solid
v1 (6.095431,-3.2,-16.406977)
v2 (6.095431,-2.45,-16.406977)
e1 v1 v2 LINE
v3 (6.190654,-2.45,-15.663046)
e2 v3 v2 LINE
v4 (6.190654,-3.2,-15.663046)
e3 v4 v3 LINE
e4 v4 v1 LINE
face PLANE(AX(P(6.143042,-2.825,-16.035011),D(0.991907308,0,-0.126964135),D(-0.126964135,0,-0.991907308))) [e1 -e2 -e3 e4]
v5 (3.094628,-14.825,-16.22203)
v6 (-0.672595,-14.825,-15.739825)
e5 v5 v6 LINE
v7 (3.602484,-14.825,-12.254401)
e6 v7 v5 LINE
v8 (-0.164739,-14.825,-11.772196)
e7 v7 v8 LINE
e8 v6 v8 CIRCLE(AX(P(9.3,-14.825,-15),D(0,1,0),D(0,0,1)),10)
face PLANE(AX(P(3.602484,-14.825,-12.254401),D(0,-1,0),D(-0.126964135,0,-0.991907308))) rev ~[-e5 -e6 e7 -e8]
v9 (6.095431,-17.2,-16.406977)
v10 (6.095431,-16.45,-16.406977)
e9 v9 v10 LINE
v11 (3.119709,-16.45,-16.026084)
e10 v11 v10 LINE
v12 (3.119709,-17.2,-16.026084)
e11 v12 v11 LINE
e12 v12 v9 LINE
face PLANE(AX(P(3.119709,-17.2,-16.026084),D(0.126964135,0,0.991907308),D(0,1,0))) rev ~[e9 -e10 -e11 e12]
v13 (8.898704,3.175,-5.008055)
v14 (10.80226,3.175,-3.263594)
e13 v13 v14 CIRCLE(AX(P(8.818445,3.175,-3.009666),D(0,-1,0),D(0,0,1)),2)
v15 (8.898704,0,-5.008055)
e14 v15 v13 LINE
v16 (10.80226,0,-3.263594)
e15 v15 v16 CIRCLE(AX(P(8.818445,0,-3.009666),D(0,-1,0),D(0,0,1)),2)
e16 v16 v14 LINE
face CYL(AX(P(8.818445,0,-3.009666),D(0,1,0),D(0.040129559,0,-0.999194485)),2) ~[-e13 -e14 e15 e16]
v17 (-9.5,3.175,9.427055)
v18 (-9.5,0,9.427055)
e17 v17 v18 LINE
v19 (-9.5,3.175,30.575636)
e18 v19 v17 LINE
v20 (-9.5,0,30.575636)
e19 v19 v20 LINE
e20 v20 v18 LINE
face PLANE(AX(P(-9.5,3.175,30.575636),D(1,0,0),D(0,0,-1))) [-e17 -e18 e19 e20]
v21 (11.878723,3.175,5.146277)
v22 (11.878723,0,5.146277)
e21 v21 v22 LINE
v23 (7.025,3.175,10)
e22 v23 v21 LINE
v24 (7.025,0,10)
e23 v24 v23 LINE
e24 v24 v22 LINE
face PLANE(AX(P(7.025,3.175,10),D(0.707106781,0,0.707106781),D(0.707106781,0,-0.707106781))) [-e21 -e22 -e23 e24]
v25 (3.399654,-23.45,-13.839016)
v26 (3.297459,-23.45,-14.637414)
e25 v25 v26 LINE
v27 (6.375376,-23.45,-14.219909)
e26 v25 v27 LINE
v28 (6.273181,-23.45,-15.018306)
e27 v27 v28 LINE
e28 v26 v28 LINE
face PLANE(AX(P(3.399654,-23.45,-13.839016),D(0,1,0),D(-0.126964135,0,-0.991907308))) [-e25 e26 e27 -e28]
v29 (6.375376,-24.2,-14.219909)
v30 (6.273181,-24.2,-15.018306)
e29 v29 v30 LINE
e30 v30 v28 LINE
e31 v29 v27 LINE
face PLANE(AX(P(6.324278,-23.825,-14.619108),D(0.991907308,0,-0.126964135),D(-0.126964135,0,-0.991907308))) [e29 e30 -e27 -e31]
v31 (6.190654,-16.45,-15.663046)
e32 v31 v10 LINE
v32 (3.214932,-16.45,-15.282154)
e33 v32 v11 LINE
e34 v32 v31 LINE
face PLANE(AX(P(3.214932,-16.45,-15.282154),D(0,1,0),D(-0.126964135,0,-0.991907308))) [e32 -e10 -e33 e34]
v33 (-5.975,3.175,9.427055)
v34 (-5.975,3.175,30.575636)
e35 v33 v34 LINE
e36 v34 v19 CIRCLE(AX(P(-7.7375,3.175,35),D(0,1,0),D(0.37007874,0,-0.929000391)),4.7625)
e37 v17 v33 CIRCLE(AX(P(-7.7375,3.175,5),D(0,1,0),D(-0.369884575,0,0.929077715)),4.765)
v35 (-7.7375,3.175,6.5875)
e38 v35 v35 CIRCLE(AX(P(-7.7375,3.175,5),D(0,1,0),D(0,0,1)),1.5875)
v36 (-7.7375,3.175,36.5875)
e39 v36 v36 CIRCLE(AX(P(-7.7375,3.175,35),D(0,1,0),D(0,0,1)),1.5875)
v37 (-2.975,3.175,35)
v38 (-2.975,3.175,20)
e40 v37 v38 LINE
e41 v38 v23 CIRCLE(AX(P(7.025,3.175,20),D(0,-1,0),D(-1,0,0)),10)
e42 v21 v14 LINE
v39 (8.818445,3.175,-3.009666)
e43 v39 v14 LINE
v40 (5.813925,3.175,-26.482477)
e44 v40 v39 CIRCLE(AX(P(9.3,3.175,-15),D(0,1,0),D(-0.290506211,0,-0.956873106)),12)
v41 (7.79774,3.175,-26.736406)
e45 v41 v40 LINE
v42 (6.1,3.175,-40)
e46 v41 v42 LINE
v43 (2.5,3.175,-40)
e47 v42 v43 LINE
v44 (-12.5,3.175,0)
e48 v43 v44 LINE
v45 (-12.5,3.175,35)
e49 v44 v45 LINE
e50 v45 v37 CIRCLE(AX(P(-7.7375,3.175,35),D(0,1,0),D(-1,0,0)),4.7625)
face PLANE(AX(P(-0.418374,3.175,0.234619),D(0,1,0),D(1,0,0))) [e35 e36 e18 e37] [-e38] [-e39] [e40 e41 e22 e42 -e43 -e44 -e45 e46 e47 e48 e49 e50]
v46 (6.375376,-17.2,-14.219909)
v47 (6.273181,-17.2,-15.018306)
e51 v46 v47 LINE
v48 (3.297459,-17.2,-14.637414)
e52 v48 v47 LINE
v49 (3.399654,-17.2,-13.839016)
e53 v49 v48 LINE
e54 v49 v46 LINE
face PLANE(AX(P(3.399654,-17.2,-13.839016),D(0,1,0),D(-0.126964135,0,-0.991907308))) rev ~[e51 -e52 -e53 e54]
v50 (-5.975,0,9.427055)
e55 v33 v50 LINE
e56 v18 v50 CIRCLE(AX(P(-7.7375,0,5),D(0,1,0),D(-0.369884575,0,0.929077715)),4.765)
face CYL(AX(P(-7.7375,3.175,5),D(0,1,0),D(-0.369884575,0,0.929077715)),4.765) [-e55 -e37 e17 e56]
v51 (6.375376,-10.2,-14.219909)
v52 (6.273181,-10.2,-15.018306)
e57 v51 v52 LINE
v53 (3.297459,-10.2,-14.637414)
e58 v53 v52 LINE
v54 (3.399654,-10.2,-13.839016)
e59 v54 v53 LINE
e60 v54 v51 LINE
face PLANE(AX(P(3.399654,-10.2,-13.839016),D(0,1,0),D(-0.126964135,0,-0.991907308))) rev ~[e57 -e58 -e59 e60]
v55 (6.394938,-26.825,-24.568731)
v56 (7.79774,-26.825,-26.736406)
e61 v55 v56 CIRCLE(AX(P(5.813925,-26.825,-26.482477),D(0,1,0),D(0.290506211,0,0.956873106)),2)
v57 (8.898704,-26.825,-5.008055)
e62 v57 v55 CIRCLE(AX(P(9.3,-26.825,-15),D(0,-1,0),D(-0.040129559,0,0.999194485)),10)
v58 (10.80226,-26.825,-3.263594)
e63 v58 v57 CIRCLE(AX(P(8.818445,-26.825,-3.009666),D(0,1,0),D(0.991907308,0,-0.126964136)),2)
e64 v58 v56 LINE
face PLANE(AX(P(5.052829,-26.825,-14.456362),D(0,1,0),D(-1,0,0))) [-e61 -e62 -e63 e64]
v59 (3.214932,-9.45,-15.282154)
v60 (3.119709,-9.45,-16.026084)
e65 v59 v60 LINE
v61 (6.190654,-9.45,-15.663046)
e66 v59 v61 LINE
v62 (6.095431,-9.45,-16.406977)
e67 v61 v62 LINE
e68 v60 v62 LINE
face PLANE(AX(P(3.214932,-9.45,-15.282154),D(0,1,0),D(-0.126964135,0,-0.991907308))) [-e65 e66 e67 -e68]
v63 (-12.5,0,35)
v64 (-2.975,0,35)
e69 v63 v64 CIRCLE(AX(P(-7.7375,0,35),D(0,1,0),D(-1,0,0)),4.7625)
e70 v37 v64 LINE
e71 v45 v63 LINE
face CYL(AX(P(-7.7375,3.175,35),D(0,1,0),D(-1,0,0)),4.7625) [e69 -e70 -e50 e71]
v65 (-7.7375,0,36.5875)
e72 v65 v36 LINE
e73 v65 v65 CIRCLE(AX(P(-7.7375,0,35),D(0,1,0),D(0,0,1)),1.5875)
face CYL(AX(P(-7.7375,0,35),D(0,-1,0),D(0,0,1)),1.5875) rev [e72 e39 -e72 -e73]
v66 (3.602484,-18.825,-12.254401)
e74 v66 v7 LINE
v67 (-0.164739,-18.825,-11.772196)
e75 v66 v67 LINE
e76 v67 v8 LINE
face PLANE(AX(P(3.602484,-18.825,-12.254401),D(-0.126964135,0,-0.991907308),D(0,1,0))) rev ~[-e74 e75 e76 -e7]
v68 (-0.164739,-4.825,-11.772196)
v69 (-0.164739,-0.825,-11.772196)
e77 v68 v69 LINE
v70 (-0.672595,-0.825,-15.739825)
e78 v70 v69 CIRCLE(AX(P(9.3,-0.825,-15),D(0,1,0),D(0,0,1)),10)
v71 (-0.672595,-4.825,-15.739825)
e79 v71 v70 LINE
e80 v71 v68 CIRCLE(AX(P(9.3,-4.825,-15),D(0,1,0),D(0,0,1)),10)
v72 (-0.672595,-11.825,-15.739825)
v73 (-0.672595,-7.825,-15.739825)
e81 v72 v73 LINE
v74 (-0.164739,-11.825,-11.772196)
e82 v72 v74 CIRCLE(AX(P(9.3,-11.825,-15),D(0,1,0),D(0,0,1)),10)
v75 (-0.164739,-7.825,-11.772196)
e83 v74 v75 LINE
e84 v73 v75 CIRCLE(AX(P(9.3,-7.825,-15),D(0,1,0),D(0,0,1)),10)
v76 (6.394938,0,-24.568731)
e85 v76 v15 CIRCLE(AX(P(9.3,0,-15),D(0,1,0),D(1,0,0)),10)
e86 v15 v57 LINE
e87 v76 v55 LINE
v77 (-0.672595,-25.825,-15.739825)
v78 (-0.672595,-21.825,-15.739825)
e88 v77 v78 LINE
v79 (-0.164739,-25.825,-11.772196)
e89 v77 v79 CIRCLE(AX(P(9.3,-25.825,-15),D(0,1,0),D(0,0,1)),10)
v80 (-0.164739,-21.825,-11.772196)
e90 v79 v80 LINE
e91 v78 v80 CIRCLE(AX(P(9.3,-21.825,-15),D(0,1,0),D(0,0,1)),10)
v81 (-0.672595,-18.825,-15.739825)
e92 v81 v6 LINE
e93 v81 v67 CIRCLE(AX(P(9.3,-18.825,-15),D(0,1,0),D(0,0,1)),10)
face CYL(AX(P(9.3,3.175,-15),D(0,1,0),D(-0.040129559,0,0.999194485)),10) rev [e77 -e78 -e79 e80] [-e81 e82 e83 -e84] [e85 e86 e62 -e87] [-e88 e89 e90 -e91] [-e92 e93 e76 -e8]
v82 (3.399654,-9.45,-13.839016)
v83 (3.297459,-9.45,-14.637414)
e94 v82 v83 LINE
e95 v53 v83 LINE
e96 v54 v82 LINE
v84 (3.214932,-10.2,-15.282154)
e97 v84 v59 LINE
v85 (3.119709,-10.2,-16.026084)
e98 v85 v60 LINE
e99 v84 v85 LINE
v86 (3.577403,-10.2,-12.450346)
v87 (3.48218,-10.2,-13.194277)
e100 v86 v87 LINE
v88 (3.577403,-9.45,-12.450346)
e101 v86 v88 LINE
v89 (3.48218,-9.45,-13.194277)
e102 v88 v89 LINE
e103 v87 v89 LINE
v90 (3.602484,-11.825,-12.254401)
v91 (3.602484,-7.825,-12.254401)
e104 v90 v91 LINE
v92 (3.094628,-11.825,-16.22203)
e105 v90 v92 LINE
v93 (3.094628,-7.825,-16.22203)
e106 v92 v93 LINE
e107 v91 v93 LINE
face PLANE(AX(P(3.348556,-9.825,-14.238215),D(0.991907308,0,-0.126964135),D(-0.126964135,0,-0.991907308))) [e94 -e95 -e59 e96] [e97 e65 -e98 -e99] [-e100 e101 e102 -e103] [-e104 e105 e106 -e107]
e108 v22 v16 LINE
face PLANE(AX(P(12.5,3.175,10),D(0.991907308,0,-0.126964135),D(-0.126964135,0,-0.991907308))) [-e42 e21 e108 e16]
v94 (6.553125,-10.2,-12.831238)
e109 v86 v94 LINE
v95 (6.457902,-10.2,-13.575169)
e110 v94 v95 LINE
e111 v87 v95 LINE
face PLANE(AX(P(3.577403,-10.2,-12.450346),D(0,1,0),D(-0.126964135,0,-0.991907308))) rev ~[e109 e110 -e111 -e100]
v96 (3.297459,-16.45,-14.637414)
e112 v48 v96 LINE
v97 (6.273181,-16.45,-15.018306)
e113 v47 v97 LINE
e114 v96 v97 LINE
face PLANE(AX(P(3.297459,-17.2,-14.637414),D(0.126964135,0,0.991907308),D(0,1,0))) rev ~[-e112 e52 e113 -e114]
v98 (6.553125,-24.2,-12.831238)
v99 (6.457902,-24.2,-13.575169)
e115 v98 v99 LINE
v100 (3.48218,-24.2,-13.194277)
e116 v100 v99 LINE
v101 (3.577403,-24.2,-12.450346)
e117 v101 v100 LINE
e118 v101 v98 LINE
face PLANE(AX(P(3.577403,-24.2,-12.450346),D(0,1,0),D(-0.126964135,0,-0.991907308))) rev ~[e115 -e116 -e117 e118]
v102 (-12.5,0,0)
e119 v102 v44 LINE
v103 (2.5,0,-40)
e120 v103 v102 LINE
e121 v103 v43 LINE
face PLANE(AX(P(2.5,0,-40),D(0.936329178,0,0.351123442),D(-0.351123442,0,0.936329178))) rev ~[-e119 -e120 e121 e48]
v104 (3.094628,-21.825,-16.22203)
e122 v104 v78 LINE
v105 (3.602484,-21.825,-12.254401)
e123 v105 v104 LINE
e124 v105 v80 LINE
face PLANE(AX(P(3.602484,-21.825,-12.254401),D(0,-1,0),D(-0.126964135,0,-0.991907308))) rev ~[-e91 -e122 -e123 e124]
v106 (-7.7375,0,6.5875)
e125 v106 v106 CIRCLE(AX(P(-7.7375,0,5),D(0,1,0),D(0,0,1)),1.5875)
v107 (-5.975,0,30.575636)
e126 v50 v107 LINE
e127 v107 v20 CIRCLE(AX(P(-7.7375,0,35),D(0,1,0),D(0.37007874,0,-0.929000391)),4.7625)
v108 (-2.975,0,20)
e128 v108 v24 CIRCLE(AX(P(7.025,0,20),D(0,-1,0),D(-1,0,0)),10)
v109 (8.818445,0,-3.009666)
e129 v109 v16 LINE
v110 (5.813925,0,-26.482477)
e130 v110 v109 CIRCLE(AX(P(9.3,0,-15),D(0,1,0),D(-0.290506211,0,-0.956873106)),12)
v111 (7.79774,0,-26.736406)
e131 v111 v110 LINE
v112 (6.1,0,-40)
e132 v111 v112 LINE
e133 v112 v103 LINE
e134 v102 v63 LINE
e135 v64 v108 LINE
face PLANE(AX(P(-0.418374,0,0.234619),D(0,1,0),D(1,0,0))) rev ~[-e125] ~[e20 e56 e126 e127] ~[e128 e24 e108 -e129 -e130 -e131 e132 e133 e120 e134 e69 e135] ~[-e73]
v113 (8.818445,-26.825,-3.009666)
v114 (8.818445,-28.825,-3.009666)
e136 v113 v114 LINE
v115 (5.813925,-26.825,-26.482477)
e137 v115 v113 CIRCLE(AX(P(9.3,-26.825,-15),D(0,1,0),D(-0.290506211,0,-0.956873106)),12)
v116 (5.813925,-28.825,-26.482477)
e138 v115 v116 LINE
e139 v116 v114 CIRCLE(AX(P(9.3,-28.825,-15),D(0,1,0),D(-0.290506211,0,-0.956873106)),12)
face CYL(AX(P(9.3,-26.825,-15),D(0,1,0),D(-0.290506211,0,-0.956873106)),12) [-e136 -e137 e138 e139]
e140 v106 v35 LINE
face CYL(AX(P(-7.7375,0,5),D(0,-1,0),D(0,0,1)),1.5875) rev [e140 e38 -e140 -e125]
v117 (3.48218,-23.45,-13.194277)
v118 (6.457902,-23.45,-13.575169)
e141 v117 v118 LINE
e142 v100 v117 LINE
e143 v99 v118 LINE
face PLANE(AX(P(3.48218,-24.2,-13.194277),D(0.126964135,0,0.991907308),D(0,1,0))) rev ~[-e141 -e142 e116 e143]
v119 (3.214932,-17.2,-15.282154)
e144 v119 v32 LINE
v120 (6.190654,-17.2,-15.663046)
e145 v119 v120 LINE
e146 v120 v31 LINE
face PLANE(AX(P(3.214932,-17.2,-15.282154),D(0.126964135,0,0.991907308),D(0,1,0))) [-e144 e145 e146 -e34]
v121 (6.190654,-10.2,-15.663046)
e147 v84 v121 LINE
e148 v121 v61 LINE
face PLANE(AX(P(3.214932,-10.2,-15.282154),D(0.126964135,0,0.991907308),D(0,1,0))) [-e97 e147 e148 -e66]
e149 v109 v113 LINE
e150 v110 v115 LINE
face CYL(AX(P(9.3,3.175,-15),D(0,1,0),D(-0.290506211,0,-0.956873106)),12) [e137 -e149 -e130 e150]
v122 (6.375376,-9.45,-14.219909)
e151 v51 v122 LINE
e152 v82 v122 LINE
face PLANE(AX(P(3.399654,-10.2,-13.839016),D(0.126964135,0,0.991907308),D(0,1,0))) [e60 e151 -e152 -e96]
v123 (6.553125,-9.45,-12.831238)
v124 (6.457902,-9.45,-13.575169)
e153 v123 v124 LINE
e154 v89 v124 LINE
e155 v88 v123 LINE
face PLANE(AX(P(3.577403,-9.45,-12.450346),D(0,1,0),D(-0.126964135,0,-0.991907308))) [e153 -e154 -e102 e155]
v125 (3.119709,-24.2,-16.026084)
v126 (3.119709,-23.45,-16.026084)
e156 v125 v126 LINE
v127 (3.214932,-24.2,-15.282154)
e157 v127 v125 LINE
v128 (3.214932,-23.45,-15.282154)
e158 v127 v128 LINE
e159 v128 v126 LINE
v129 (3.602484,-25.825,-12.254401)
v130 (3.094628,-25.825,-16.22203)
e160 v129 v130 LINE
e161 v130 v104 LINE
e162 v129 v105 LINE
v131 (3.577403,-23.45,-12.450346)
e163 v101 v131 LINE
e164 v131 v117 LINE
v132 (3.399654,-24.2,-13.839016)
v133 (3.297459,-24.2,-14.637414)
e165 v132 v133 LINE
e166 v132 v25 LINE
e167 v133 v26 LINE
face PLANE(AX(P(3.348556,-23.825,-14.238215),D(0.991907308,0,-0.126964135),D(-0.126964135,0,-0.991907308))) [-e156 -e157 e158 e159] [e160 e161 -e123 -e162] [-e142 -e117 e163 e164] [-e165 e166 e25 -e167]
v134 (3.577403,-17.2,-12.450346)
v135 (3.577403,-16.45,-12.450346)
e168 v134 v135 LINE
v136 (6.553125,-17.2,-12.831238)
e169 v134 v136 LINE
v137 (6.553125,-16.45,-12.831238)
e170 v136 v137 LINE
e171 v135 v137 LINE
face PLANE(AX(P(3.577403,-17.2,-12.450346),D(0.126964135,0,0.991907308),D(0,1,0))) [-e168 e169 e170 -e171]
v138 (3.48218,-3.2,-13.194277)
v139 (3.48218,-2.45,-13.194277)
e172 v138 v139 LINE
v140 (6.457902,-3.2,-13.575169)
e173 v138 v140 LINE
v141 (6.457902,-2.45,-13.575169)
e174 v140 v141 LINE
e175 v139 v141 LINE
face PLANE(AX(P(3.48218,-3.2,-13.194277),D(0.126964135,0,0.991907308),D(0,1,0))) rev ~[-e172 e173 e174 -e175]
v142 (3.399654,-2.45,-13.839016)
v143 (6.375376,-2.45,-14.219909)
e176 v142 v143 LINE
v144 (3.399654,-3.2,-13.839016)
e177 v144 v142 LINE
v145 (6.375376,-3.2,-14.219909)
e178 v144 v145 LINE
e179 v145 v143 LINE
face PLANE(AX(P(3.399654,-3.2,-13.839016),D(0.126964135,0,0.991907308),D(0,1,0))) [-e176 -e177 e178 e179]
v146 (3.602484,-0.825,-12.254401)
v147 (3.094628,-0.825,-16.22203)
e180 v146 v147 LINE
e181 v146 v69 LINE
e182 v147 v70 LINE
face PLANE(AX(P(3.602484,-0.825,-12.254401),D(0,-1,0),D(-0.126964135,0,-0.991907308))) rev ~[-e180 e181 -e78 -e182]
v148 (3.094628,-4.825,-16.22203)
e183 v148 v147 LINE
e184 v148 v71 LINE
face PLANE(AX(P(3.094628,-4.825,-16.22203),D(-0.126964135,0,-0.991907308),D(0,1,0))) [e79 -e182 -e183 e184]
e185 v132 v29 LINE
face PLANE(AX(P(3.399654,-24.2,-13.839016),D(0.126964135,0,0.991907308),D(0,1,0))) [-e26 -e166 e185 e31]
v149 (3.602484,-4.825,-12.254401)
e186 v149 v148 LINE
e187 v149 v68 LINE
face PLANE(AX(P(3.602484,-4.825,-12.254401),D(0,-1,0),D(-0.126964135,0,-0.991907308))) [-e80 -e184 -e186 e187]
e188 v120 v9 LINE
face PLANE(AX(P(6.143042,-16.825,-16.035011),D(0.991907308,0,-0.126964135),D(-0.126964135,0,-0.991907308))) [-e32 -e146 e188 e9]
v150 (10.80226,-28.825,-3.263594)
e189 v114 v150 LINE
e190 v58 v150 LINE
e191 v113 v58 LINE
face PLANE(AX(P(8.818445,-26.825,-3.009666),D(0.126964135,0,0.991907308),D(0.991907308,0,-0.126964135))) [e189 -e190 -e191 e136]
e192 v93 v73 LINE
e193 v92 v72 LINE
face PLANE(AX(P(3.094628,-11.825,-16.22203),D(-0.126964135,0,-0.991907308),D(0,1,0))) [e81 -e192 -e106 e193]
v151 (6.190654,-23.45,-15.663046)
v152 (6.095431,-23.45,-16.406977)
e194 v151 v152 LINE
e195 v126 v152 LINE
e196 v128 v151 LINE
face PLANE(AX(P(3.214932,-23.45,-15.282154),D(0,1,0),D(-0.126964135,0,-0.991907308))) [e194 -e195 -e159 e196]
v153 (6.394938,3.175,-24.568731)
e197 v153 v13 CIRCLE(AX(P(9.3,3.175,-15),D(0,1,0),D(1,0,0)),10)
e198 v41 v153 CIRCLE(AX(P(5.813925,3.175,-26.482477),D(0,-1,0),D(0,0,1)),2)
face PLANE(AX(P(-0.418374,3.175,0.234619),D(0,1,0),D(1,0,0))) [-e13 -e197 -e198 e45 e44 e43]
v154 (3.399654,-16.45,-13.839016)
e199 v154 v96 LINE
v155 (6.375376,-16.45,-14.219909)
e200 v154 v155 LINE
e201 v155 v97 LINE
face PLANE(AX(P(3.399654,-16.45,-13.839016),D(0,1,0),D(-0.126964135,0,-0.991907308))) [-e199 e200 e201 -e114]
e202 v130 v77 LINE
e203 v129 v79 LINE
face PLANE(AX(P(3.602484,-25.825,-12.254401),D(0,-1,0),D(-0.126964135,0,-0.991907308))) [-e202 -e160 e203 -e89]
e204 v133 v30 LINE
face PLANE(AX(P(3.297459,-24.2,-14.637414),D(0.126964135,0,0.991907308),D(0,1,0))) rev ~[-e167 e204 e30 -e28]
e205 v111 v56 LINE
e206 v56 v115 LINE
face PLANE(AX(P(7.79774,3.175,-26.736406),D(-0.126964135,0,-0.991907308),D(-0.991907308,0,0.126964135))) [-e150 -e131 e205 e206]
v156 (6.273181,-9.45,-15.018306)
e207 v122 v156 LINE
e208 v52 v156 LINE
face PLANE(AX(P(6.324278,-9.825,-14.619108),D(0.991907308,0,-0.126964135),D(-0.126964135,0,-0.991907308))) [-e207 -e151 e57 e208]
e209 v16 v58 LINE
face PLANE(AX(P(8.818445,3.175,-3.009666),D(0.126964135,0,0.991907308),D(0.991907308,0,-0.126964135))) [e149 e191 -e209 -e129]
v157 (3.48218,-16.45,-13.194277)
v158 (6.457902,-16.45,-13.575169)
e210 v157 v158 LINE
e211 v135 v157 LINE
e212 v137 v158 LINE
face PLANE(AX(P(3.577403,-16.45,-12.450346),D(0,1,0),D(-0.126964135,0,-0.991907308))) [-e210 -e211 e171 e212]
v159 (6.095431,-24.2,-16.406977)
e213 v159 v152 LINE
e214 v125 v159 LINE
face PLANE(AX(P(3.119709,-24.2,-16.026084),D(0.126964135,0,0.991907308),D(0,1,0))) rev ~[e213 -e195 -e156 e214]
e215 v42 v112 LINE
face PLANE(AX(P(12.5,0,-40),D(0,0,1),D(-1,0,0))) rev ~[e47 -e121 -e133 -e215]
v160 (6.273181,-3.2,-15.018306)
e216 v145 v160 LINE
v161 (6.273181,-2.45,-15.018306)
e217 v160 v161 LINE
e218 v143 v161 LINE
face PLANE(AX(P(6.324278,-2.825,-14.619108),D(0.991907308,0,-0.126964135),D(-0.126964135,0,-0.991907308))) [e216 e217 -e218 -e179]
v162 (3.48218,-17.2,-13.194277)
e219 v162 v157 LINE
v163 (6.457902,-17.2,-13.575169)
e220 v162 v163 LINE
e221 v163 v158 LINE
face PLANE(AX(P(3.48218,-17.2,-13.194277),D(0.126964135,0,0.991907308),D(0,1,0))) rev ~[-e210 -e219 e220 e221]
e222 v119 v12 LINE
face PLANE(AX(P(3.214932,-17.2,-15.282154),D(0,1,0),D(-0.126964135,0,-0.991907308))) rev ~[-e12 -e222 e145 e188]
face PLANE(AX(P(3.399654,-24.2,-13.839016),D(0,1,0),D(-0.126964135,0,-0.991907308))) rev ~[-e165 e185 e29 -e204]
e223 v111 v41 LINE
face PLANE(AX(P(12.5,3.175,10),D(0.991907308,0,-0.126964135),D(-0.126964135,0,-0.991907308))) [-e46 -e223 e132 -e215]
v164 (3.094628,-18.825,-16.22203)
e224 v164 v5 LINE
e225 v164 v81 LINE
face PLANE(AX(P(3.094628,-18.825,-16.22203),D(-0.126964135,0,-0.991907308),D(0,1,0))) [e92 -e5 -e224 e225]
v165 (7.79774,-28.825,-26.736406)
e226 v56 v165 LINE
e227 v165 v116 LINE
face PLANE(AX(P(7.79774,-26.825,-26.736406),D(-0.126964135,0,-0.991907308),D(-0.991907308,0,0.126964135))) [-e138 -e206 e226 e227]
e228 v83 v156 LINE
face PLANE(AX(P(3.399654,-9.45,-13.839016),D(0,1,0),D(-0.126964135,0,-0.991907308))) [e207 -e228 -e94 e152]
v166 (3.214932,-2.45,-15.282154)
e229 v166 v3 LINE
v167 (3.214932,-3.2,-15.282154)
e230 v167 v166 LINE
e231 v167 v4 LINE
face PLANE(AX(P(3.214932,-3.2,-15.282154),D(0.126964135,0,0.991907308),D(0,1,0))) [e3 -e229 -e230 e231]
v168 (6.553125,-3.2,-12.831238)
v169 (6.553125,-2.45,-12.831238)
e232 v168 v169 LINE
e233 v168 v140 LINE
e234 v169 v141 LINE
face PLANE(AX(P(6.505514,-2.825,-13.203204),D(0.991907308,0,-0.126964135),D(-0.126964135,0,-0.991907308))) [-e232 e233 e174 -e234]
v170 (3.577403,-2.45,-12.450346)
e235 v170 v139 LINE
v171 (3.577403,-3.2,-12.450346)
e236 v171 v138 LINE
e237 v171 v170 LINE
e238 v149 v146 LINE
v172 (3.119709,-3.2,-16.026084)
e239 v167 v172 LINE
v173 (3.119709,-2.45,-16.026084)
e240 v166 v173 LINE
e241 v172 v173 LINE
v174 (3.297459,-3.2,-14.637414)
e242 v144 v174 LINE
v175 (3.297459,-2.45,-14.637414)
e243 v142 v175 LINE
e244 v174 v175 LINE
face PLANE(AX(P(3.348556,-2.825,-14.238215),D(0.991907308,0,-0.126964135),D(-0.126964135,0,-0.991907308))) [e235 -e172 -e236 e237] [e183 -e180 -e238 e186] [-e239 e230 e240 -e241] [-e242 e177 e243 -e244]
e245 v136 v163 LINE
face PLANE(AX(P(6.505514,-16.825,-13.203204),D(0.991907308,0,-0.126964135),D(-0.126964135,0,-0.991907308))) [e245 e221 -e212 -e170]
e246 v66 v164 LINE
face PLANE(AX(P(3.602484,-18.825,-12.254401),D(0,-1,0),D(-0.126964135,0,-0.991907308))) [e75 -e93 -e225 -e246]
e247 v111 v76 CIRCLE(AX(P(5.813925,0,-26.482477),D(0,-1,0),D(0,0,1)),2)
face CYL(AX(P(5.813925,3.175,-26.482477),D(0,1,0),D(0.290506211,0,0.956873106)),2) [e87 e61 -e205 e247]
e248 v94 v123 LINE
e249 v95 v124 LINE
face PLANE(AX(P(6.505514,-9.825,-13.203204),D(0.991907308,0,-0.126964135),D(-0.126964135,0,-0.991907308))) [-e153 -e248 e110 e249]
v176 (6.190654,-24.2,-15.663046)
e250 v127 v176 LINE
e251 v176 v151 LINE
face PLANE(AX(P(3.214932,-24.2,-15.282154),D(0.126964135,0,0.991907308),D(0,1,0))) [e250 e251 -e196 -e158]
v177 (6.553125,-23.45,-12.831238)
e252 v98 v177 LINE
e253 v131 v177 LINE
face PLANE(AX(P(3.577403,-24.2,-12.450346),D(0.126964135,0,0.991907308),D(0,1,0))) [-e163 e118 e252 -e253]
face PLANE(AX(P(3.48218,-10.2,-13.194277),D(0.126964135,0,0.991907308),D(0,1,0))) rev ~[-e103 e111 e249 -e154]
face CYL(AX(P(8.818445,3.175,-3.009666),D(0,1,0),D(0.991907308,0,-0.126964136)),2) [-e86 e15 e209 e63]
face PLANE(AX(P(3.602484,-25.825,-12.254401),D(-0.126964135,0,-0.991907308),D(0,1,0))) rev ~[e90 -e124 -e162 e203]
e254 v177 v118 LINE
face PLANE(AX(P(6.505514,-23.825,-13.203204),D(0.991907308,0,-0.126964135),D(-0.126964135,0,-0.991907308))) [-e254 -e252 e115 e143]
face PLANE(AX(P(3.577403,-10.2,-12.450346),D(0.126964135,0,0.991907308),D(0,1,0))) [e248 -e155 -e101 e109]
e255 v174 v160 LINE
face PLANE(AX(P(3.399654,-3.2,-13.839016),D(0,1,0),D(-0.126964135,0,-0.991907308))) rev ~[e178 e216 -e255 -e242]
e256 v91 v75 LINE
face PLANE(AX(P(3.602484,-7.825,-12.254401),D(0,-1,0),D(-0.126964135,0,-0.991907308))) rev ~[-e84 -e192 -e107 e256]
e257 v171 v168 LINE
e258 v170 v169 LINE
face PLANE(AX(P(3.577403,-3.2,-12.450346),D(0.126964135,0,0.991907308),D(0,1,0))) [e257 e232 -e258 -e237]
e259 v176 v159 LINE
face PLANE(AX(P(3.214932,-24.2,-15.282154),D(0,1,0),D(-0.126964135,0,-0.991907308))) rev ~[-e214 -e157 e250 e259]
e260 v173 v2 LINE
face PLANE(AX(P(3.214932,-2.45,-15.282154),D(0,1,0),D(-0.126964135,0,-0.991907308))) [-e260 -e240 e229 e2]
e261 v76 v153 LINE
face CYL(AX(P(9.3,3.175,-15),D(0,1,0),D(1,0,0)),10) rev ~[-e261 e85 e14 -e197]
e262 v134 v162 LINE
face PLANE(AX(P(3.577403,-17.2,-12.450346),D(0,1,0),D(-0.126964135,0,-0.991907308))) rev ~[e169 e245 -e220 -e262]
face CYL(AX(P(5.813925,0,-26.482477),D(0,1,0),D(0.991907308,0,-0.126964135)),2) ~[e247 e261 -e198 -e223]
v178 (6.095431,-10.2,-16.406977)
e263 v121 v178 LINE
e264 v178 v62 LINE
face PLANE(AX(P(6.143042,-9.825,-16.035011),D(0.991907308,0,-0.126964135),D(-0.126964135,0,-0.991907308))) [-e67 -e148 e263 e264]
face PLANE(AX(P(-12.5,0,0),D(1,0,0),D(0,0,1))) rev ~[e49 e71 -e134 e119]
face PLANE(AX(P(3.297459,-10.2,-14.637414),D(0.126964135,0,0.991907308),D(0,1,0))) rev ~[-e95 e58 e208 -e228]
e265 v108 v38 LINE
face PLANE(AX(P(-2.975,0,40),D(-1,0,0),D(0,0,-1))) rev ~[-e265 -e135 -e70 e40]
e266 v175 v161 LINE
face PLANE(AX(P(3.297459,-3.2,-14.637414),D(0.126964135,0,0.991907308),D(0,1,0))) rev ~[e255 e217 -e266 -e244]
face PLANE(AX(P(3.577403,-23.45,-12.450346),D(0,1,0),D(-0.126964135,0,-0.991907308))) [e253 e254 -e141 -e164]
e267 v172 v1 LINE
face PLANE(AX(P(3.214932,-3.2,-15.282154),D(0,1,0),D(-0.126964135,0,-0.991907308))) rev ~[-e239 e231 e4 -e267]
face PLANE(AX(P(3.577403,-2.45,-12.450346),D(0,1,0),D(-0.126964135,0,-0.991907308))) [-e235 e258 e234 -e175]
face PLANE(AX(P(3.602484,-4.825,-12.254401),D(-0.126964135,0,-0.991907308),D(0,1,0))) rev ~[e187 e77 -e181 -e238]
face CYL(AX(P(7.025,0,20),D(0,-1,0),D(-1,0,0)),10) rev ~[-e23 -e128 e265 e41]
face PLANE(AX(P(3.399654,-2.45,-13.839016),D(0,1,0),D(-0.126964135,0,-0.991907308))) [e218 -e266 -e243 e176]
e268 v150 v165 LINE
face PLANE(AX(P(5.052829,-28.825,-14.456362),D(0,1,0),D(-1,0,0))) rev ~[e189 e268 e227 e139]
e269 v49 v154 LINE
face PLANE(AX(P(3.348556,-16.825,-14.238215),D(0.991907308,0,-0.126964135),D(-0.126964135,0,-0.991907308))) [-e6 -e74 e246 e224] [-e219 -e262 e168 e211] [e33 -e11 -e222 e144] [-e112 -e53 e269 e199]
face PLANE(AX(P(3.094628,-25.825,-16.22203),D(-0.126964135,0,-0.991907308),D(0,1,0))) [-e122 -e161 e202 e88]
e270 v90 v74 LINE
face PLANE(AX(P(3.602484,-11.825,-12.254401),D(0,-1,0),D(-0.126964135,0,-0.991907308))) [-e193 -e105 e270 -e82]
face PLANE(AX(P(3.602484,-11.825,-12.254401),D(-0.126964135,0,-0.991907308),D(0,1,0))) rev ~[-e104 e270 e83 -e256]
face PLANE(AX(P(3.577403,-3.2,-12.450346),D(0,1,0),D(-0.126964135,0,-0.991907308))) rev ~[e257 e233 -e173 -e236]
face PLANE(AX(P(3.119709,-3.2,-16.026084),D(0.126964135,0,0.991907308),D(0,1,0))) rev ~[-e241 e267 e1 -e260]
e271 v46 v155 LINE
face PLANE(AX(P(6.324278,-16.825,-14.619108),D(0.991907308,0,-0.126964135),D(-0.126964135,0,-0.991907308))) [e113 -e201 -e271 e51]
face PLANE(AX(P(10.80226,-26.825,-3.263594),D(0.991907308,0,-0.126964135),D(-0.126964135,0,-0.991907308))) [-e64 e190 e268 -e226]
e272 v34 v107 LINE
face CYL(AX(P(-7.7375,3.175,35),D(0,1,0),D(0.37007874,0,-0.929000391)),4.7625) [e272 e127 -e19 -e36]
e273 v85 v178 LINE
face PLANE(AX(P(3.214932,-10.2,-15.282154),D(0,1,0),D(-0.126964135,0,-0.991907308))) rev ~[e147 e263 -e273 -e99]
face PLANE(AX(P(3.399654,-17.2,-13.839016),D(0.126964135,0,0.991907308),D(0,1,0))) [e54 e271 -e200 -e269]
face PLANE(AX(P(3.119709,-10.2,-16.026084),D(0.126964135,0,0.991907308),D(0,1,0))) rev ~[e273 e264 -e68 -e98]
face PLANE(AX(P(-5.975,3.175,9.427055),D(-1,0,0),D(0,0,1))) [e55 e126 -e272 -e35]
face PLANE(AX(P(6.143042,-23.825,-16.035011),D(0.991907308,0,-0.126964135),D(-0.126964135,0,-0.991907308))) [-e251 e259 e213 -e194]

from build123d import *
from build123d.topology import SkipClean

# Parameters (mm, degrees)
CROQUIS1_R               = 1.5875
SALIENTE_EXTRUIR1_DEPTH  = 3.175
CORTAR_EXTRUIR1_DEPTH    = 3.175
CORTAR_EXTRUIR3_DEPTH    = 10
CROQUIS5_R               = 10
CORTAR_EXTRUIR8_DEPTH    = 10
REDONDEO2_R              = 2
BOSS_EXTRUDE1_DEPTH      = 30
BOSS_EXTRUDE2_DEPTH      = 2
BOSS_EXTRUDE6_REACH      = 54.664
BOSS_EXTRUDE6_END_RADIUS = 10
SKETCH7_W                = 4
SKETCH7_H                = 4
SKETCH9_W                = 0.75
SKETCH9_H                = 0.75
SKETCH9_W_2              = 0.804911676
BOSS_EXTRUDE7_DEPTH      = 3
LPATTERN1_COUNT          = 4
LPATTERN1_PITCH          = 7


with BuildPart() as part:
    # Croquis1 → Saliente-Extruir1 (new body)
    with BuildSketch(Plane(origin=(0, 0, 0), x_dir=(1, 0, 0), z_dir=(0, 1, 0))):
        with BuildLine():
            Line((-12.5, 0), (-12.5, -40))
            Line((-12.5, -40), (-2.975, -40))
            Line((-2.975, -40), (-2.975, -20))
            ThreePointArc((-2.975, -20), (-0.046067812, -12.928932188), (7.025, -10))
            Line((7.025, -10), (12.5, -10))
            Line((12.5, -10), (12.5, 40))
            Line((12.5, 40), (2.5, 40))
            Line((2.5, 40), (-12.5, 0))
        make_face()
        with Locations(Location((-7.7375, -5, 0), (0, 0, 270))):
            Circle(CROQUIS1_R, mode=Mode.SUBTRACT)
        with Locations(Location((-7.7375, -35, 0), (0, 0, 270))):
            Circle(CROQUIS1_R, mode=Mode.SUBTRACT)
    extrude(amount=SALIENTE_EXTRUIR1_DEPTH)

    # Croquis2 → Cortar-Extruir1 (cut)
    with BuildSketch(Plane(origin=(0, 3.175, 0), x_dir=(1, 0, 0), z_dir=(0, 1, 0))):
        Polygon((12.5, -10), (6.1, 40), (12.5, 40), align=None)
    extrude(amount=-CORTAR_EXTRUIR1_DEPTH, mode=Mode.SUBTRACT)

    # Croquis3 → Cortar-Extruir3 (cut)
    with BuildSketch(Plane(origin=(0, 3.175, 0), x_dir=(1, 0, 0), z_dir=(0, 1, 0))):
        with BuildLine():
            ThreePointArc((-5.975, -30.575635639), (-7.7375, -30.2375), (-9.5, -30.575635639))
            Line((-9.5, -30.575635639), (-9.5, -9.427055314))
            ThreePointArc((-9.5, -9.427055314), (-7.7375, -9.765), (-5.975, -9.427055314))
            Line((-5.975, -9.427055314), (-5.975, -14.803847577))
            Line((-5.975, -14.803847577), (-5.975, -30.575635639))
        make_face()
        with BuildLine():
            ThreePointArc((-12.5, -35), (-7.7375, -39.7625), (-2.975, -35))
            Line((-2.975, -35), (-2.975, -40))
            Line((-2.975, -40), (-12.5, -40))
            Line((-12.5, -40), (-12.5, -35))
        make_face()
    extrude(amount=-CORTAR_EXTRUIR3_DEPTH, mode=Mode.SUBTRACT)

    # Croquis5 → Cortar-Extruir8 (cut)
    with BuildSketch(Plane(origin=(0, 3.175, 0), x_dir=(1, 0, 0), z_dir=(0, 1, 0))):
        with Locations((9.3, 15)):
            Circle(CROQUIS5_R)
        Polygon((7.025, -10), (11.878723404, -5.146276596), (12.5, -10), align=None)
    extrude(amount=-CORTAR_EXTRUIR8_DEPTH, mode=Mode.SUBTRACT)

    # Redondeo2
    redondeo2_edges = [part.edges().sort_by_distance(p)[0] for p in [
        (8.030358645, 1.5875, -24.919073083),
        (10.569641355, 1.5875, -5.080926917),
    ]]
    fillet(redondeo2_edges, radius=REDONDEO2_R)

    # Sketch1 → Boss-Extrude1 (add)
    with SkipClean():  # the faces are left unmerged after this step: merging them gives an invalid solid
        with BuildSketch(Plane(origin=(0, 3.175, 0), x_dir=(1, 0, 0), z_dir=(0, 1, 0))):
            with BuildLine():
                Line((7.79774009, 26.736405547), (5.813925473, 26.482477276))
                ThreePointArc((5.813925473, 26.482477276), (-2.6028877, 13.476430374), (8.818445293, 3.009666182))
                Line((8.818445293, 3.009666182), (10.80225991, 3.263594453))
                ThreePointArc((10.80225991, 3.263594453), (10.16969874, 4.484153931), (8.898704411, 5.008055152))
                ThreePointArc((8.898704411, 5.008055152), (-0.619073083, 13.730358645), (6.394937894, 24.568731063))
                ThreePointArc((6.394937894, 24.568731063), (7.492998908, 25.395871368), (7.79774009, 26.736405547))
            make_face()
        extrude(amount=-BOSS_EXTRUDE1_DEPTH)

    # Sketch2 → Boss-Extrude2 (add)
    with SkipClean():  # the faces are left unmerged after this step: merging them gives an invalid solid
        with BuildSketch(Plane.XZ.offset(26.825)):
            with BuildLine():
                Line((10.80225991, -3.263594453), (7.79774009, -26.736405547))
                Line((7.79774009, -26.736405547), (5.813925473, -26.482477276))
                ThreePointArc((5.813925473, -26.482477276), (-2.6028877, -13.476430374), (8.818445293, -3.009666182))
                Line((8.818445293, -3.009666182), (10.80225991, -3.263594453))
            make_face()
        extrude(amount=BOSS_EXTRUDE2_DEPTH)

    # Boss-Extrude6: up to this cylinder (the profile starts inside it)
    with SkipClean():  # the faces are left unmerged after this step: merging them gives an invalid solid
        boss_extrude6_end = Plane(origin=(9.3, -23.825, -15), z_dir=(0, 1, 0)) * Cylinder(BOSS_EXTRUDE6_END_RADIUS, 130.328, mode=Mode.PRIVATE)
        # Sketch7 → Boss-Extrude6 (add, up to the surface)
        with BuildSketch(Plane(origin=(5.087690965, 0, -0.651224444), x_dir=(-0.12696413546540503, 0, -0.9919073083234755), z_dir=(0.9919073083234755, 0, -0.12696413546540503)), mode=Mode.PRIVATE) as boss_extrude6_sk1:
            with Locations((13.697843165, -23.825)):
                Rectangle(SKETCH7_W, SKETCH7_H)
        boss_extrude6_tool1 = extrude(boss_extrude6_sk1.sketch, amount=-BOSS_EXTRUDE6_REACH, mode=Mode.PRIVATE) & boss_extrude6_end
        boss_extrude6 = boss_extrude6_tool1.solids().sort_by_distance((3.348556, -23.825, -14.238215))[0]
        add(boss_extrude6)

    # Sketch9 → Boss-Extrude7 (add)
    with SkipClean():  # the faces are left unmerged after this step: merging them gives an invalid solid
        with BuildSketch(Plane(origin=(5.087690965, 0, -0.651224444), x_dir=(-0.12696413546540508, 0, -0.9919073083234755), z_dir=(0.9919073083234755, 0, -0.12696413546540508))):
            with Locations((15.125299003, -23.825)):
                Rectangle(SKETCH9_W, SKETCH9_H)
            with Locations((13.697843165, -23.825)):
                Rectangle(SKETCH9_W_2, SKETCH9_H)
            with Locations((12.270387327, -23.825)):
                Rectangle(SKETCH9_W, SKETCH9_H)
        boss_extrude7 = extrude(amount=BOSS_EXTRUDE7_DEPTH)

    # LPattern1: Boss-Extrude6, Boss-Extrude7 ×4
    with SkipClean():  # the faces are left unmerged after this step: merging them gives an invalid solid
        with Locations(*[(0, i * LPATTERN1_PITCH, 0) for i in range(1, LPATTERN1_COUNT)]):
            add(boss_extrude6)
            add(boss_extrude7)


solid = part.part
